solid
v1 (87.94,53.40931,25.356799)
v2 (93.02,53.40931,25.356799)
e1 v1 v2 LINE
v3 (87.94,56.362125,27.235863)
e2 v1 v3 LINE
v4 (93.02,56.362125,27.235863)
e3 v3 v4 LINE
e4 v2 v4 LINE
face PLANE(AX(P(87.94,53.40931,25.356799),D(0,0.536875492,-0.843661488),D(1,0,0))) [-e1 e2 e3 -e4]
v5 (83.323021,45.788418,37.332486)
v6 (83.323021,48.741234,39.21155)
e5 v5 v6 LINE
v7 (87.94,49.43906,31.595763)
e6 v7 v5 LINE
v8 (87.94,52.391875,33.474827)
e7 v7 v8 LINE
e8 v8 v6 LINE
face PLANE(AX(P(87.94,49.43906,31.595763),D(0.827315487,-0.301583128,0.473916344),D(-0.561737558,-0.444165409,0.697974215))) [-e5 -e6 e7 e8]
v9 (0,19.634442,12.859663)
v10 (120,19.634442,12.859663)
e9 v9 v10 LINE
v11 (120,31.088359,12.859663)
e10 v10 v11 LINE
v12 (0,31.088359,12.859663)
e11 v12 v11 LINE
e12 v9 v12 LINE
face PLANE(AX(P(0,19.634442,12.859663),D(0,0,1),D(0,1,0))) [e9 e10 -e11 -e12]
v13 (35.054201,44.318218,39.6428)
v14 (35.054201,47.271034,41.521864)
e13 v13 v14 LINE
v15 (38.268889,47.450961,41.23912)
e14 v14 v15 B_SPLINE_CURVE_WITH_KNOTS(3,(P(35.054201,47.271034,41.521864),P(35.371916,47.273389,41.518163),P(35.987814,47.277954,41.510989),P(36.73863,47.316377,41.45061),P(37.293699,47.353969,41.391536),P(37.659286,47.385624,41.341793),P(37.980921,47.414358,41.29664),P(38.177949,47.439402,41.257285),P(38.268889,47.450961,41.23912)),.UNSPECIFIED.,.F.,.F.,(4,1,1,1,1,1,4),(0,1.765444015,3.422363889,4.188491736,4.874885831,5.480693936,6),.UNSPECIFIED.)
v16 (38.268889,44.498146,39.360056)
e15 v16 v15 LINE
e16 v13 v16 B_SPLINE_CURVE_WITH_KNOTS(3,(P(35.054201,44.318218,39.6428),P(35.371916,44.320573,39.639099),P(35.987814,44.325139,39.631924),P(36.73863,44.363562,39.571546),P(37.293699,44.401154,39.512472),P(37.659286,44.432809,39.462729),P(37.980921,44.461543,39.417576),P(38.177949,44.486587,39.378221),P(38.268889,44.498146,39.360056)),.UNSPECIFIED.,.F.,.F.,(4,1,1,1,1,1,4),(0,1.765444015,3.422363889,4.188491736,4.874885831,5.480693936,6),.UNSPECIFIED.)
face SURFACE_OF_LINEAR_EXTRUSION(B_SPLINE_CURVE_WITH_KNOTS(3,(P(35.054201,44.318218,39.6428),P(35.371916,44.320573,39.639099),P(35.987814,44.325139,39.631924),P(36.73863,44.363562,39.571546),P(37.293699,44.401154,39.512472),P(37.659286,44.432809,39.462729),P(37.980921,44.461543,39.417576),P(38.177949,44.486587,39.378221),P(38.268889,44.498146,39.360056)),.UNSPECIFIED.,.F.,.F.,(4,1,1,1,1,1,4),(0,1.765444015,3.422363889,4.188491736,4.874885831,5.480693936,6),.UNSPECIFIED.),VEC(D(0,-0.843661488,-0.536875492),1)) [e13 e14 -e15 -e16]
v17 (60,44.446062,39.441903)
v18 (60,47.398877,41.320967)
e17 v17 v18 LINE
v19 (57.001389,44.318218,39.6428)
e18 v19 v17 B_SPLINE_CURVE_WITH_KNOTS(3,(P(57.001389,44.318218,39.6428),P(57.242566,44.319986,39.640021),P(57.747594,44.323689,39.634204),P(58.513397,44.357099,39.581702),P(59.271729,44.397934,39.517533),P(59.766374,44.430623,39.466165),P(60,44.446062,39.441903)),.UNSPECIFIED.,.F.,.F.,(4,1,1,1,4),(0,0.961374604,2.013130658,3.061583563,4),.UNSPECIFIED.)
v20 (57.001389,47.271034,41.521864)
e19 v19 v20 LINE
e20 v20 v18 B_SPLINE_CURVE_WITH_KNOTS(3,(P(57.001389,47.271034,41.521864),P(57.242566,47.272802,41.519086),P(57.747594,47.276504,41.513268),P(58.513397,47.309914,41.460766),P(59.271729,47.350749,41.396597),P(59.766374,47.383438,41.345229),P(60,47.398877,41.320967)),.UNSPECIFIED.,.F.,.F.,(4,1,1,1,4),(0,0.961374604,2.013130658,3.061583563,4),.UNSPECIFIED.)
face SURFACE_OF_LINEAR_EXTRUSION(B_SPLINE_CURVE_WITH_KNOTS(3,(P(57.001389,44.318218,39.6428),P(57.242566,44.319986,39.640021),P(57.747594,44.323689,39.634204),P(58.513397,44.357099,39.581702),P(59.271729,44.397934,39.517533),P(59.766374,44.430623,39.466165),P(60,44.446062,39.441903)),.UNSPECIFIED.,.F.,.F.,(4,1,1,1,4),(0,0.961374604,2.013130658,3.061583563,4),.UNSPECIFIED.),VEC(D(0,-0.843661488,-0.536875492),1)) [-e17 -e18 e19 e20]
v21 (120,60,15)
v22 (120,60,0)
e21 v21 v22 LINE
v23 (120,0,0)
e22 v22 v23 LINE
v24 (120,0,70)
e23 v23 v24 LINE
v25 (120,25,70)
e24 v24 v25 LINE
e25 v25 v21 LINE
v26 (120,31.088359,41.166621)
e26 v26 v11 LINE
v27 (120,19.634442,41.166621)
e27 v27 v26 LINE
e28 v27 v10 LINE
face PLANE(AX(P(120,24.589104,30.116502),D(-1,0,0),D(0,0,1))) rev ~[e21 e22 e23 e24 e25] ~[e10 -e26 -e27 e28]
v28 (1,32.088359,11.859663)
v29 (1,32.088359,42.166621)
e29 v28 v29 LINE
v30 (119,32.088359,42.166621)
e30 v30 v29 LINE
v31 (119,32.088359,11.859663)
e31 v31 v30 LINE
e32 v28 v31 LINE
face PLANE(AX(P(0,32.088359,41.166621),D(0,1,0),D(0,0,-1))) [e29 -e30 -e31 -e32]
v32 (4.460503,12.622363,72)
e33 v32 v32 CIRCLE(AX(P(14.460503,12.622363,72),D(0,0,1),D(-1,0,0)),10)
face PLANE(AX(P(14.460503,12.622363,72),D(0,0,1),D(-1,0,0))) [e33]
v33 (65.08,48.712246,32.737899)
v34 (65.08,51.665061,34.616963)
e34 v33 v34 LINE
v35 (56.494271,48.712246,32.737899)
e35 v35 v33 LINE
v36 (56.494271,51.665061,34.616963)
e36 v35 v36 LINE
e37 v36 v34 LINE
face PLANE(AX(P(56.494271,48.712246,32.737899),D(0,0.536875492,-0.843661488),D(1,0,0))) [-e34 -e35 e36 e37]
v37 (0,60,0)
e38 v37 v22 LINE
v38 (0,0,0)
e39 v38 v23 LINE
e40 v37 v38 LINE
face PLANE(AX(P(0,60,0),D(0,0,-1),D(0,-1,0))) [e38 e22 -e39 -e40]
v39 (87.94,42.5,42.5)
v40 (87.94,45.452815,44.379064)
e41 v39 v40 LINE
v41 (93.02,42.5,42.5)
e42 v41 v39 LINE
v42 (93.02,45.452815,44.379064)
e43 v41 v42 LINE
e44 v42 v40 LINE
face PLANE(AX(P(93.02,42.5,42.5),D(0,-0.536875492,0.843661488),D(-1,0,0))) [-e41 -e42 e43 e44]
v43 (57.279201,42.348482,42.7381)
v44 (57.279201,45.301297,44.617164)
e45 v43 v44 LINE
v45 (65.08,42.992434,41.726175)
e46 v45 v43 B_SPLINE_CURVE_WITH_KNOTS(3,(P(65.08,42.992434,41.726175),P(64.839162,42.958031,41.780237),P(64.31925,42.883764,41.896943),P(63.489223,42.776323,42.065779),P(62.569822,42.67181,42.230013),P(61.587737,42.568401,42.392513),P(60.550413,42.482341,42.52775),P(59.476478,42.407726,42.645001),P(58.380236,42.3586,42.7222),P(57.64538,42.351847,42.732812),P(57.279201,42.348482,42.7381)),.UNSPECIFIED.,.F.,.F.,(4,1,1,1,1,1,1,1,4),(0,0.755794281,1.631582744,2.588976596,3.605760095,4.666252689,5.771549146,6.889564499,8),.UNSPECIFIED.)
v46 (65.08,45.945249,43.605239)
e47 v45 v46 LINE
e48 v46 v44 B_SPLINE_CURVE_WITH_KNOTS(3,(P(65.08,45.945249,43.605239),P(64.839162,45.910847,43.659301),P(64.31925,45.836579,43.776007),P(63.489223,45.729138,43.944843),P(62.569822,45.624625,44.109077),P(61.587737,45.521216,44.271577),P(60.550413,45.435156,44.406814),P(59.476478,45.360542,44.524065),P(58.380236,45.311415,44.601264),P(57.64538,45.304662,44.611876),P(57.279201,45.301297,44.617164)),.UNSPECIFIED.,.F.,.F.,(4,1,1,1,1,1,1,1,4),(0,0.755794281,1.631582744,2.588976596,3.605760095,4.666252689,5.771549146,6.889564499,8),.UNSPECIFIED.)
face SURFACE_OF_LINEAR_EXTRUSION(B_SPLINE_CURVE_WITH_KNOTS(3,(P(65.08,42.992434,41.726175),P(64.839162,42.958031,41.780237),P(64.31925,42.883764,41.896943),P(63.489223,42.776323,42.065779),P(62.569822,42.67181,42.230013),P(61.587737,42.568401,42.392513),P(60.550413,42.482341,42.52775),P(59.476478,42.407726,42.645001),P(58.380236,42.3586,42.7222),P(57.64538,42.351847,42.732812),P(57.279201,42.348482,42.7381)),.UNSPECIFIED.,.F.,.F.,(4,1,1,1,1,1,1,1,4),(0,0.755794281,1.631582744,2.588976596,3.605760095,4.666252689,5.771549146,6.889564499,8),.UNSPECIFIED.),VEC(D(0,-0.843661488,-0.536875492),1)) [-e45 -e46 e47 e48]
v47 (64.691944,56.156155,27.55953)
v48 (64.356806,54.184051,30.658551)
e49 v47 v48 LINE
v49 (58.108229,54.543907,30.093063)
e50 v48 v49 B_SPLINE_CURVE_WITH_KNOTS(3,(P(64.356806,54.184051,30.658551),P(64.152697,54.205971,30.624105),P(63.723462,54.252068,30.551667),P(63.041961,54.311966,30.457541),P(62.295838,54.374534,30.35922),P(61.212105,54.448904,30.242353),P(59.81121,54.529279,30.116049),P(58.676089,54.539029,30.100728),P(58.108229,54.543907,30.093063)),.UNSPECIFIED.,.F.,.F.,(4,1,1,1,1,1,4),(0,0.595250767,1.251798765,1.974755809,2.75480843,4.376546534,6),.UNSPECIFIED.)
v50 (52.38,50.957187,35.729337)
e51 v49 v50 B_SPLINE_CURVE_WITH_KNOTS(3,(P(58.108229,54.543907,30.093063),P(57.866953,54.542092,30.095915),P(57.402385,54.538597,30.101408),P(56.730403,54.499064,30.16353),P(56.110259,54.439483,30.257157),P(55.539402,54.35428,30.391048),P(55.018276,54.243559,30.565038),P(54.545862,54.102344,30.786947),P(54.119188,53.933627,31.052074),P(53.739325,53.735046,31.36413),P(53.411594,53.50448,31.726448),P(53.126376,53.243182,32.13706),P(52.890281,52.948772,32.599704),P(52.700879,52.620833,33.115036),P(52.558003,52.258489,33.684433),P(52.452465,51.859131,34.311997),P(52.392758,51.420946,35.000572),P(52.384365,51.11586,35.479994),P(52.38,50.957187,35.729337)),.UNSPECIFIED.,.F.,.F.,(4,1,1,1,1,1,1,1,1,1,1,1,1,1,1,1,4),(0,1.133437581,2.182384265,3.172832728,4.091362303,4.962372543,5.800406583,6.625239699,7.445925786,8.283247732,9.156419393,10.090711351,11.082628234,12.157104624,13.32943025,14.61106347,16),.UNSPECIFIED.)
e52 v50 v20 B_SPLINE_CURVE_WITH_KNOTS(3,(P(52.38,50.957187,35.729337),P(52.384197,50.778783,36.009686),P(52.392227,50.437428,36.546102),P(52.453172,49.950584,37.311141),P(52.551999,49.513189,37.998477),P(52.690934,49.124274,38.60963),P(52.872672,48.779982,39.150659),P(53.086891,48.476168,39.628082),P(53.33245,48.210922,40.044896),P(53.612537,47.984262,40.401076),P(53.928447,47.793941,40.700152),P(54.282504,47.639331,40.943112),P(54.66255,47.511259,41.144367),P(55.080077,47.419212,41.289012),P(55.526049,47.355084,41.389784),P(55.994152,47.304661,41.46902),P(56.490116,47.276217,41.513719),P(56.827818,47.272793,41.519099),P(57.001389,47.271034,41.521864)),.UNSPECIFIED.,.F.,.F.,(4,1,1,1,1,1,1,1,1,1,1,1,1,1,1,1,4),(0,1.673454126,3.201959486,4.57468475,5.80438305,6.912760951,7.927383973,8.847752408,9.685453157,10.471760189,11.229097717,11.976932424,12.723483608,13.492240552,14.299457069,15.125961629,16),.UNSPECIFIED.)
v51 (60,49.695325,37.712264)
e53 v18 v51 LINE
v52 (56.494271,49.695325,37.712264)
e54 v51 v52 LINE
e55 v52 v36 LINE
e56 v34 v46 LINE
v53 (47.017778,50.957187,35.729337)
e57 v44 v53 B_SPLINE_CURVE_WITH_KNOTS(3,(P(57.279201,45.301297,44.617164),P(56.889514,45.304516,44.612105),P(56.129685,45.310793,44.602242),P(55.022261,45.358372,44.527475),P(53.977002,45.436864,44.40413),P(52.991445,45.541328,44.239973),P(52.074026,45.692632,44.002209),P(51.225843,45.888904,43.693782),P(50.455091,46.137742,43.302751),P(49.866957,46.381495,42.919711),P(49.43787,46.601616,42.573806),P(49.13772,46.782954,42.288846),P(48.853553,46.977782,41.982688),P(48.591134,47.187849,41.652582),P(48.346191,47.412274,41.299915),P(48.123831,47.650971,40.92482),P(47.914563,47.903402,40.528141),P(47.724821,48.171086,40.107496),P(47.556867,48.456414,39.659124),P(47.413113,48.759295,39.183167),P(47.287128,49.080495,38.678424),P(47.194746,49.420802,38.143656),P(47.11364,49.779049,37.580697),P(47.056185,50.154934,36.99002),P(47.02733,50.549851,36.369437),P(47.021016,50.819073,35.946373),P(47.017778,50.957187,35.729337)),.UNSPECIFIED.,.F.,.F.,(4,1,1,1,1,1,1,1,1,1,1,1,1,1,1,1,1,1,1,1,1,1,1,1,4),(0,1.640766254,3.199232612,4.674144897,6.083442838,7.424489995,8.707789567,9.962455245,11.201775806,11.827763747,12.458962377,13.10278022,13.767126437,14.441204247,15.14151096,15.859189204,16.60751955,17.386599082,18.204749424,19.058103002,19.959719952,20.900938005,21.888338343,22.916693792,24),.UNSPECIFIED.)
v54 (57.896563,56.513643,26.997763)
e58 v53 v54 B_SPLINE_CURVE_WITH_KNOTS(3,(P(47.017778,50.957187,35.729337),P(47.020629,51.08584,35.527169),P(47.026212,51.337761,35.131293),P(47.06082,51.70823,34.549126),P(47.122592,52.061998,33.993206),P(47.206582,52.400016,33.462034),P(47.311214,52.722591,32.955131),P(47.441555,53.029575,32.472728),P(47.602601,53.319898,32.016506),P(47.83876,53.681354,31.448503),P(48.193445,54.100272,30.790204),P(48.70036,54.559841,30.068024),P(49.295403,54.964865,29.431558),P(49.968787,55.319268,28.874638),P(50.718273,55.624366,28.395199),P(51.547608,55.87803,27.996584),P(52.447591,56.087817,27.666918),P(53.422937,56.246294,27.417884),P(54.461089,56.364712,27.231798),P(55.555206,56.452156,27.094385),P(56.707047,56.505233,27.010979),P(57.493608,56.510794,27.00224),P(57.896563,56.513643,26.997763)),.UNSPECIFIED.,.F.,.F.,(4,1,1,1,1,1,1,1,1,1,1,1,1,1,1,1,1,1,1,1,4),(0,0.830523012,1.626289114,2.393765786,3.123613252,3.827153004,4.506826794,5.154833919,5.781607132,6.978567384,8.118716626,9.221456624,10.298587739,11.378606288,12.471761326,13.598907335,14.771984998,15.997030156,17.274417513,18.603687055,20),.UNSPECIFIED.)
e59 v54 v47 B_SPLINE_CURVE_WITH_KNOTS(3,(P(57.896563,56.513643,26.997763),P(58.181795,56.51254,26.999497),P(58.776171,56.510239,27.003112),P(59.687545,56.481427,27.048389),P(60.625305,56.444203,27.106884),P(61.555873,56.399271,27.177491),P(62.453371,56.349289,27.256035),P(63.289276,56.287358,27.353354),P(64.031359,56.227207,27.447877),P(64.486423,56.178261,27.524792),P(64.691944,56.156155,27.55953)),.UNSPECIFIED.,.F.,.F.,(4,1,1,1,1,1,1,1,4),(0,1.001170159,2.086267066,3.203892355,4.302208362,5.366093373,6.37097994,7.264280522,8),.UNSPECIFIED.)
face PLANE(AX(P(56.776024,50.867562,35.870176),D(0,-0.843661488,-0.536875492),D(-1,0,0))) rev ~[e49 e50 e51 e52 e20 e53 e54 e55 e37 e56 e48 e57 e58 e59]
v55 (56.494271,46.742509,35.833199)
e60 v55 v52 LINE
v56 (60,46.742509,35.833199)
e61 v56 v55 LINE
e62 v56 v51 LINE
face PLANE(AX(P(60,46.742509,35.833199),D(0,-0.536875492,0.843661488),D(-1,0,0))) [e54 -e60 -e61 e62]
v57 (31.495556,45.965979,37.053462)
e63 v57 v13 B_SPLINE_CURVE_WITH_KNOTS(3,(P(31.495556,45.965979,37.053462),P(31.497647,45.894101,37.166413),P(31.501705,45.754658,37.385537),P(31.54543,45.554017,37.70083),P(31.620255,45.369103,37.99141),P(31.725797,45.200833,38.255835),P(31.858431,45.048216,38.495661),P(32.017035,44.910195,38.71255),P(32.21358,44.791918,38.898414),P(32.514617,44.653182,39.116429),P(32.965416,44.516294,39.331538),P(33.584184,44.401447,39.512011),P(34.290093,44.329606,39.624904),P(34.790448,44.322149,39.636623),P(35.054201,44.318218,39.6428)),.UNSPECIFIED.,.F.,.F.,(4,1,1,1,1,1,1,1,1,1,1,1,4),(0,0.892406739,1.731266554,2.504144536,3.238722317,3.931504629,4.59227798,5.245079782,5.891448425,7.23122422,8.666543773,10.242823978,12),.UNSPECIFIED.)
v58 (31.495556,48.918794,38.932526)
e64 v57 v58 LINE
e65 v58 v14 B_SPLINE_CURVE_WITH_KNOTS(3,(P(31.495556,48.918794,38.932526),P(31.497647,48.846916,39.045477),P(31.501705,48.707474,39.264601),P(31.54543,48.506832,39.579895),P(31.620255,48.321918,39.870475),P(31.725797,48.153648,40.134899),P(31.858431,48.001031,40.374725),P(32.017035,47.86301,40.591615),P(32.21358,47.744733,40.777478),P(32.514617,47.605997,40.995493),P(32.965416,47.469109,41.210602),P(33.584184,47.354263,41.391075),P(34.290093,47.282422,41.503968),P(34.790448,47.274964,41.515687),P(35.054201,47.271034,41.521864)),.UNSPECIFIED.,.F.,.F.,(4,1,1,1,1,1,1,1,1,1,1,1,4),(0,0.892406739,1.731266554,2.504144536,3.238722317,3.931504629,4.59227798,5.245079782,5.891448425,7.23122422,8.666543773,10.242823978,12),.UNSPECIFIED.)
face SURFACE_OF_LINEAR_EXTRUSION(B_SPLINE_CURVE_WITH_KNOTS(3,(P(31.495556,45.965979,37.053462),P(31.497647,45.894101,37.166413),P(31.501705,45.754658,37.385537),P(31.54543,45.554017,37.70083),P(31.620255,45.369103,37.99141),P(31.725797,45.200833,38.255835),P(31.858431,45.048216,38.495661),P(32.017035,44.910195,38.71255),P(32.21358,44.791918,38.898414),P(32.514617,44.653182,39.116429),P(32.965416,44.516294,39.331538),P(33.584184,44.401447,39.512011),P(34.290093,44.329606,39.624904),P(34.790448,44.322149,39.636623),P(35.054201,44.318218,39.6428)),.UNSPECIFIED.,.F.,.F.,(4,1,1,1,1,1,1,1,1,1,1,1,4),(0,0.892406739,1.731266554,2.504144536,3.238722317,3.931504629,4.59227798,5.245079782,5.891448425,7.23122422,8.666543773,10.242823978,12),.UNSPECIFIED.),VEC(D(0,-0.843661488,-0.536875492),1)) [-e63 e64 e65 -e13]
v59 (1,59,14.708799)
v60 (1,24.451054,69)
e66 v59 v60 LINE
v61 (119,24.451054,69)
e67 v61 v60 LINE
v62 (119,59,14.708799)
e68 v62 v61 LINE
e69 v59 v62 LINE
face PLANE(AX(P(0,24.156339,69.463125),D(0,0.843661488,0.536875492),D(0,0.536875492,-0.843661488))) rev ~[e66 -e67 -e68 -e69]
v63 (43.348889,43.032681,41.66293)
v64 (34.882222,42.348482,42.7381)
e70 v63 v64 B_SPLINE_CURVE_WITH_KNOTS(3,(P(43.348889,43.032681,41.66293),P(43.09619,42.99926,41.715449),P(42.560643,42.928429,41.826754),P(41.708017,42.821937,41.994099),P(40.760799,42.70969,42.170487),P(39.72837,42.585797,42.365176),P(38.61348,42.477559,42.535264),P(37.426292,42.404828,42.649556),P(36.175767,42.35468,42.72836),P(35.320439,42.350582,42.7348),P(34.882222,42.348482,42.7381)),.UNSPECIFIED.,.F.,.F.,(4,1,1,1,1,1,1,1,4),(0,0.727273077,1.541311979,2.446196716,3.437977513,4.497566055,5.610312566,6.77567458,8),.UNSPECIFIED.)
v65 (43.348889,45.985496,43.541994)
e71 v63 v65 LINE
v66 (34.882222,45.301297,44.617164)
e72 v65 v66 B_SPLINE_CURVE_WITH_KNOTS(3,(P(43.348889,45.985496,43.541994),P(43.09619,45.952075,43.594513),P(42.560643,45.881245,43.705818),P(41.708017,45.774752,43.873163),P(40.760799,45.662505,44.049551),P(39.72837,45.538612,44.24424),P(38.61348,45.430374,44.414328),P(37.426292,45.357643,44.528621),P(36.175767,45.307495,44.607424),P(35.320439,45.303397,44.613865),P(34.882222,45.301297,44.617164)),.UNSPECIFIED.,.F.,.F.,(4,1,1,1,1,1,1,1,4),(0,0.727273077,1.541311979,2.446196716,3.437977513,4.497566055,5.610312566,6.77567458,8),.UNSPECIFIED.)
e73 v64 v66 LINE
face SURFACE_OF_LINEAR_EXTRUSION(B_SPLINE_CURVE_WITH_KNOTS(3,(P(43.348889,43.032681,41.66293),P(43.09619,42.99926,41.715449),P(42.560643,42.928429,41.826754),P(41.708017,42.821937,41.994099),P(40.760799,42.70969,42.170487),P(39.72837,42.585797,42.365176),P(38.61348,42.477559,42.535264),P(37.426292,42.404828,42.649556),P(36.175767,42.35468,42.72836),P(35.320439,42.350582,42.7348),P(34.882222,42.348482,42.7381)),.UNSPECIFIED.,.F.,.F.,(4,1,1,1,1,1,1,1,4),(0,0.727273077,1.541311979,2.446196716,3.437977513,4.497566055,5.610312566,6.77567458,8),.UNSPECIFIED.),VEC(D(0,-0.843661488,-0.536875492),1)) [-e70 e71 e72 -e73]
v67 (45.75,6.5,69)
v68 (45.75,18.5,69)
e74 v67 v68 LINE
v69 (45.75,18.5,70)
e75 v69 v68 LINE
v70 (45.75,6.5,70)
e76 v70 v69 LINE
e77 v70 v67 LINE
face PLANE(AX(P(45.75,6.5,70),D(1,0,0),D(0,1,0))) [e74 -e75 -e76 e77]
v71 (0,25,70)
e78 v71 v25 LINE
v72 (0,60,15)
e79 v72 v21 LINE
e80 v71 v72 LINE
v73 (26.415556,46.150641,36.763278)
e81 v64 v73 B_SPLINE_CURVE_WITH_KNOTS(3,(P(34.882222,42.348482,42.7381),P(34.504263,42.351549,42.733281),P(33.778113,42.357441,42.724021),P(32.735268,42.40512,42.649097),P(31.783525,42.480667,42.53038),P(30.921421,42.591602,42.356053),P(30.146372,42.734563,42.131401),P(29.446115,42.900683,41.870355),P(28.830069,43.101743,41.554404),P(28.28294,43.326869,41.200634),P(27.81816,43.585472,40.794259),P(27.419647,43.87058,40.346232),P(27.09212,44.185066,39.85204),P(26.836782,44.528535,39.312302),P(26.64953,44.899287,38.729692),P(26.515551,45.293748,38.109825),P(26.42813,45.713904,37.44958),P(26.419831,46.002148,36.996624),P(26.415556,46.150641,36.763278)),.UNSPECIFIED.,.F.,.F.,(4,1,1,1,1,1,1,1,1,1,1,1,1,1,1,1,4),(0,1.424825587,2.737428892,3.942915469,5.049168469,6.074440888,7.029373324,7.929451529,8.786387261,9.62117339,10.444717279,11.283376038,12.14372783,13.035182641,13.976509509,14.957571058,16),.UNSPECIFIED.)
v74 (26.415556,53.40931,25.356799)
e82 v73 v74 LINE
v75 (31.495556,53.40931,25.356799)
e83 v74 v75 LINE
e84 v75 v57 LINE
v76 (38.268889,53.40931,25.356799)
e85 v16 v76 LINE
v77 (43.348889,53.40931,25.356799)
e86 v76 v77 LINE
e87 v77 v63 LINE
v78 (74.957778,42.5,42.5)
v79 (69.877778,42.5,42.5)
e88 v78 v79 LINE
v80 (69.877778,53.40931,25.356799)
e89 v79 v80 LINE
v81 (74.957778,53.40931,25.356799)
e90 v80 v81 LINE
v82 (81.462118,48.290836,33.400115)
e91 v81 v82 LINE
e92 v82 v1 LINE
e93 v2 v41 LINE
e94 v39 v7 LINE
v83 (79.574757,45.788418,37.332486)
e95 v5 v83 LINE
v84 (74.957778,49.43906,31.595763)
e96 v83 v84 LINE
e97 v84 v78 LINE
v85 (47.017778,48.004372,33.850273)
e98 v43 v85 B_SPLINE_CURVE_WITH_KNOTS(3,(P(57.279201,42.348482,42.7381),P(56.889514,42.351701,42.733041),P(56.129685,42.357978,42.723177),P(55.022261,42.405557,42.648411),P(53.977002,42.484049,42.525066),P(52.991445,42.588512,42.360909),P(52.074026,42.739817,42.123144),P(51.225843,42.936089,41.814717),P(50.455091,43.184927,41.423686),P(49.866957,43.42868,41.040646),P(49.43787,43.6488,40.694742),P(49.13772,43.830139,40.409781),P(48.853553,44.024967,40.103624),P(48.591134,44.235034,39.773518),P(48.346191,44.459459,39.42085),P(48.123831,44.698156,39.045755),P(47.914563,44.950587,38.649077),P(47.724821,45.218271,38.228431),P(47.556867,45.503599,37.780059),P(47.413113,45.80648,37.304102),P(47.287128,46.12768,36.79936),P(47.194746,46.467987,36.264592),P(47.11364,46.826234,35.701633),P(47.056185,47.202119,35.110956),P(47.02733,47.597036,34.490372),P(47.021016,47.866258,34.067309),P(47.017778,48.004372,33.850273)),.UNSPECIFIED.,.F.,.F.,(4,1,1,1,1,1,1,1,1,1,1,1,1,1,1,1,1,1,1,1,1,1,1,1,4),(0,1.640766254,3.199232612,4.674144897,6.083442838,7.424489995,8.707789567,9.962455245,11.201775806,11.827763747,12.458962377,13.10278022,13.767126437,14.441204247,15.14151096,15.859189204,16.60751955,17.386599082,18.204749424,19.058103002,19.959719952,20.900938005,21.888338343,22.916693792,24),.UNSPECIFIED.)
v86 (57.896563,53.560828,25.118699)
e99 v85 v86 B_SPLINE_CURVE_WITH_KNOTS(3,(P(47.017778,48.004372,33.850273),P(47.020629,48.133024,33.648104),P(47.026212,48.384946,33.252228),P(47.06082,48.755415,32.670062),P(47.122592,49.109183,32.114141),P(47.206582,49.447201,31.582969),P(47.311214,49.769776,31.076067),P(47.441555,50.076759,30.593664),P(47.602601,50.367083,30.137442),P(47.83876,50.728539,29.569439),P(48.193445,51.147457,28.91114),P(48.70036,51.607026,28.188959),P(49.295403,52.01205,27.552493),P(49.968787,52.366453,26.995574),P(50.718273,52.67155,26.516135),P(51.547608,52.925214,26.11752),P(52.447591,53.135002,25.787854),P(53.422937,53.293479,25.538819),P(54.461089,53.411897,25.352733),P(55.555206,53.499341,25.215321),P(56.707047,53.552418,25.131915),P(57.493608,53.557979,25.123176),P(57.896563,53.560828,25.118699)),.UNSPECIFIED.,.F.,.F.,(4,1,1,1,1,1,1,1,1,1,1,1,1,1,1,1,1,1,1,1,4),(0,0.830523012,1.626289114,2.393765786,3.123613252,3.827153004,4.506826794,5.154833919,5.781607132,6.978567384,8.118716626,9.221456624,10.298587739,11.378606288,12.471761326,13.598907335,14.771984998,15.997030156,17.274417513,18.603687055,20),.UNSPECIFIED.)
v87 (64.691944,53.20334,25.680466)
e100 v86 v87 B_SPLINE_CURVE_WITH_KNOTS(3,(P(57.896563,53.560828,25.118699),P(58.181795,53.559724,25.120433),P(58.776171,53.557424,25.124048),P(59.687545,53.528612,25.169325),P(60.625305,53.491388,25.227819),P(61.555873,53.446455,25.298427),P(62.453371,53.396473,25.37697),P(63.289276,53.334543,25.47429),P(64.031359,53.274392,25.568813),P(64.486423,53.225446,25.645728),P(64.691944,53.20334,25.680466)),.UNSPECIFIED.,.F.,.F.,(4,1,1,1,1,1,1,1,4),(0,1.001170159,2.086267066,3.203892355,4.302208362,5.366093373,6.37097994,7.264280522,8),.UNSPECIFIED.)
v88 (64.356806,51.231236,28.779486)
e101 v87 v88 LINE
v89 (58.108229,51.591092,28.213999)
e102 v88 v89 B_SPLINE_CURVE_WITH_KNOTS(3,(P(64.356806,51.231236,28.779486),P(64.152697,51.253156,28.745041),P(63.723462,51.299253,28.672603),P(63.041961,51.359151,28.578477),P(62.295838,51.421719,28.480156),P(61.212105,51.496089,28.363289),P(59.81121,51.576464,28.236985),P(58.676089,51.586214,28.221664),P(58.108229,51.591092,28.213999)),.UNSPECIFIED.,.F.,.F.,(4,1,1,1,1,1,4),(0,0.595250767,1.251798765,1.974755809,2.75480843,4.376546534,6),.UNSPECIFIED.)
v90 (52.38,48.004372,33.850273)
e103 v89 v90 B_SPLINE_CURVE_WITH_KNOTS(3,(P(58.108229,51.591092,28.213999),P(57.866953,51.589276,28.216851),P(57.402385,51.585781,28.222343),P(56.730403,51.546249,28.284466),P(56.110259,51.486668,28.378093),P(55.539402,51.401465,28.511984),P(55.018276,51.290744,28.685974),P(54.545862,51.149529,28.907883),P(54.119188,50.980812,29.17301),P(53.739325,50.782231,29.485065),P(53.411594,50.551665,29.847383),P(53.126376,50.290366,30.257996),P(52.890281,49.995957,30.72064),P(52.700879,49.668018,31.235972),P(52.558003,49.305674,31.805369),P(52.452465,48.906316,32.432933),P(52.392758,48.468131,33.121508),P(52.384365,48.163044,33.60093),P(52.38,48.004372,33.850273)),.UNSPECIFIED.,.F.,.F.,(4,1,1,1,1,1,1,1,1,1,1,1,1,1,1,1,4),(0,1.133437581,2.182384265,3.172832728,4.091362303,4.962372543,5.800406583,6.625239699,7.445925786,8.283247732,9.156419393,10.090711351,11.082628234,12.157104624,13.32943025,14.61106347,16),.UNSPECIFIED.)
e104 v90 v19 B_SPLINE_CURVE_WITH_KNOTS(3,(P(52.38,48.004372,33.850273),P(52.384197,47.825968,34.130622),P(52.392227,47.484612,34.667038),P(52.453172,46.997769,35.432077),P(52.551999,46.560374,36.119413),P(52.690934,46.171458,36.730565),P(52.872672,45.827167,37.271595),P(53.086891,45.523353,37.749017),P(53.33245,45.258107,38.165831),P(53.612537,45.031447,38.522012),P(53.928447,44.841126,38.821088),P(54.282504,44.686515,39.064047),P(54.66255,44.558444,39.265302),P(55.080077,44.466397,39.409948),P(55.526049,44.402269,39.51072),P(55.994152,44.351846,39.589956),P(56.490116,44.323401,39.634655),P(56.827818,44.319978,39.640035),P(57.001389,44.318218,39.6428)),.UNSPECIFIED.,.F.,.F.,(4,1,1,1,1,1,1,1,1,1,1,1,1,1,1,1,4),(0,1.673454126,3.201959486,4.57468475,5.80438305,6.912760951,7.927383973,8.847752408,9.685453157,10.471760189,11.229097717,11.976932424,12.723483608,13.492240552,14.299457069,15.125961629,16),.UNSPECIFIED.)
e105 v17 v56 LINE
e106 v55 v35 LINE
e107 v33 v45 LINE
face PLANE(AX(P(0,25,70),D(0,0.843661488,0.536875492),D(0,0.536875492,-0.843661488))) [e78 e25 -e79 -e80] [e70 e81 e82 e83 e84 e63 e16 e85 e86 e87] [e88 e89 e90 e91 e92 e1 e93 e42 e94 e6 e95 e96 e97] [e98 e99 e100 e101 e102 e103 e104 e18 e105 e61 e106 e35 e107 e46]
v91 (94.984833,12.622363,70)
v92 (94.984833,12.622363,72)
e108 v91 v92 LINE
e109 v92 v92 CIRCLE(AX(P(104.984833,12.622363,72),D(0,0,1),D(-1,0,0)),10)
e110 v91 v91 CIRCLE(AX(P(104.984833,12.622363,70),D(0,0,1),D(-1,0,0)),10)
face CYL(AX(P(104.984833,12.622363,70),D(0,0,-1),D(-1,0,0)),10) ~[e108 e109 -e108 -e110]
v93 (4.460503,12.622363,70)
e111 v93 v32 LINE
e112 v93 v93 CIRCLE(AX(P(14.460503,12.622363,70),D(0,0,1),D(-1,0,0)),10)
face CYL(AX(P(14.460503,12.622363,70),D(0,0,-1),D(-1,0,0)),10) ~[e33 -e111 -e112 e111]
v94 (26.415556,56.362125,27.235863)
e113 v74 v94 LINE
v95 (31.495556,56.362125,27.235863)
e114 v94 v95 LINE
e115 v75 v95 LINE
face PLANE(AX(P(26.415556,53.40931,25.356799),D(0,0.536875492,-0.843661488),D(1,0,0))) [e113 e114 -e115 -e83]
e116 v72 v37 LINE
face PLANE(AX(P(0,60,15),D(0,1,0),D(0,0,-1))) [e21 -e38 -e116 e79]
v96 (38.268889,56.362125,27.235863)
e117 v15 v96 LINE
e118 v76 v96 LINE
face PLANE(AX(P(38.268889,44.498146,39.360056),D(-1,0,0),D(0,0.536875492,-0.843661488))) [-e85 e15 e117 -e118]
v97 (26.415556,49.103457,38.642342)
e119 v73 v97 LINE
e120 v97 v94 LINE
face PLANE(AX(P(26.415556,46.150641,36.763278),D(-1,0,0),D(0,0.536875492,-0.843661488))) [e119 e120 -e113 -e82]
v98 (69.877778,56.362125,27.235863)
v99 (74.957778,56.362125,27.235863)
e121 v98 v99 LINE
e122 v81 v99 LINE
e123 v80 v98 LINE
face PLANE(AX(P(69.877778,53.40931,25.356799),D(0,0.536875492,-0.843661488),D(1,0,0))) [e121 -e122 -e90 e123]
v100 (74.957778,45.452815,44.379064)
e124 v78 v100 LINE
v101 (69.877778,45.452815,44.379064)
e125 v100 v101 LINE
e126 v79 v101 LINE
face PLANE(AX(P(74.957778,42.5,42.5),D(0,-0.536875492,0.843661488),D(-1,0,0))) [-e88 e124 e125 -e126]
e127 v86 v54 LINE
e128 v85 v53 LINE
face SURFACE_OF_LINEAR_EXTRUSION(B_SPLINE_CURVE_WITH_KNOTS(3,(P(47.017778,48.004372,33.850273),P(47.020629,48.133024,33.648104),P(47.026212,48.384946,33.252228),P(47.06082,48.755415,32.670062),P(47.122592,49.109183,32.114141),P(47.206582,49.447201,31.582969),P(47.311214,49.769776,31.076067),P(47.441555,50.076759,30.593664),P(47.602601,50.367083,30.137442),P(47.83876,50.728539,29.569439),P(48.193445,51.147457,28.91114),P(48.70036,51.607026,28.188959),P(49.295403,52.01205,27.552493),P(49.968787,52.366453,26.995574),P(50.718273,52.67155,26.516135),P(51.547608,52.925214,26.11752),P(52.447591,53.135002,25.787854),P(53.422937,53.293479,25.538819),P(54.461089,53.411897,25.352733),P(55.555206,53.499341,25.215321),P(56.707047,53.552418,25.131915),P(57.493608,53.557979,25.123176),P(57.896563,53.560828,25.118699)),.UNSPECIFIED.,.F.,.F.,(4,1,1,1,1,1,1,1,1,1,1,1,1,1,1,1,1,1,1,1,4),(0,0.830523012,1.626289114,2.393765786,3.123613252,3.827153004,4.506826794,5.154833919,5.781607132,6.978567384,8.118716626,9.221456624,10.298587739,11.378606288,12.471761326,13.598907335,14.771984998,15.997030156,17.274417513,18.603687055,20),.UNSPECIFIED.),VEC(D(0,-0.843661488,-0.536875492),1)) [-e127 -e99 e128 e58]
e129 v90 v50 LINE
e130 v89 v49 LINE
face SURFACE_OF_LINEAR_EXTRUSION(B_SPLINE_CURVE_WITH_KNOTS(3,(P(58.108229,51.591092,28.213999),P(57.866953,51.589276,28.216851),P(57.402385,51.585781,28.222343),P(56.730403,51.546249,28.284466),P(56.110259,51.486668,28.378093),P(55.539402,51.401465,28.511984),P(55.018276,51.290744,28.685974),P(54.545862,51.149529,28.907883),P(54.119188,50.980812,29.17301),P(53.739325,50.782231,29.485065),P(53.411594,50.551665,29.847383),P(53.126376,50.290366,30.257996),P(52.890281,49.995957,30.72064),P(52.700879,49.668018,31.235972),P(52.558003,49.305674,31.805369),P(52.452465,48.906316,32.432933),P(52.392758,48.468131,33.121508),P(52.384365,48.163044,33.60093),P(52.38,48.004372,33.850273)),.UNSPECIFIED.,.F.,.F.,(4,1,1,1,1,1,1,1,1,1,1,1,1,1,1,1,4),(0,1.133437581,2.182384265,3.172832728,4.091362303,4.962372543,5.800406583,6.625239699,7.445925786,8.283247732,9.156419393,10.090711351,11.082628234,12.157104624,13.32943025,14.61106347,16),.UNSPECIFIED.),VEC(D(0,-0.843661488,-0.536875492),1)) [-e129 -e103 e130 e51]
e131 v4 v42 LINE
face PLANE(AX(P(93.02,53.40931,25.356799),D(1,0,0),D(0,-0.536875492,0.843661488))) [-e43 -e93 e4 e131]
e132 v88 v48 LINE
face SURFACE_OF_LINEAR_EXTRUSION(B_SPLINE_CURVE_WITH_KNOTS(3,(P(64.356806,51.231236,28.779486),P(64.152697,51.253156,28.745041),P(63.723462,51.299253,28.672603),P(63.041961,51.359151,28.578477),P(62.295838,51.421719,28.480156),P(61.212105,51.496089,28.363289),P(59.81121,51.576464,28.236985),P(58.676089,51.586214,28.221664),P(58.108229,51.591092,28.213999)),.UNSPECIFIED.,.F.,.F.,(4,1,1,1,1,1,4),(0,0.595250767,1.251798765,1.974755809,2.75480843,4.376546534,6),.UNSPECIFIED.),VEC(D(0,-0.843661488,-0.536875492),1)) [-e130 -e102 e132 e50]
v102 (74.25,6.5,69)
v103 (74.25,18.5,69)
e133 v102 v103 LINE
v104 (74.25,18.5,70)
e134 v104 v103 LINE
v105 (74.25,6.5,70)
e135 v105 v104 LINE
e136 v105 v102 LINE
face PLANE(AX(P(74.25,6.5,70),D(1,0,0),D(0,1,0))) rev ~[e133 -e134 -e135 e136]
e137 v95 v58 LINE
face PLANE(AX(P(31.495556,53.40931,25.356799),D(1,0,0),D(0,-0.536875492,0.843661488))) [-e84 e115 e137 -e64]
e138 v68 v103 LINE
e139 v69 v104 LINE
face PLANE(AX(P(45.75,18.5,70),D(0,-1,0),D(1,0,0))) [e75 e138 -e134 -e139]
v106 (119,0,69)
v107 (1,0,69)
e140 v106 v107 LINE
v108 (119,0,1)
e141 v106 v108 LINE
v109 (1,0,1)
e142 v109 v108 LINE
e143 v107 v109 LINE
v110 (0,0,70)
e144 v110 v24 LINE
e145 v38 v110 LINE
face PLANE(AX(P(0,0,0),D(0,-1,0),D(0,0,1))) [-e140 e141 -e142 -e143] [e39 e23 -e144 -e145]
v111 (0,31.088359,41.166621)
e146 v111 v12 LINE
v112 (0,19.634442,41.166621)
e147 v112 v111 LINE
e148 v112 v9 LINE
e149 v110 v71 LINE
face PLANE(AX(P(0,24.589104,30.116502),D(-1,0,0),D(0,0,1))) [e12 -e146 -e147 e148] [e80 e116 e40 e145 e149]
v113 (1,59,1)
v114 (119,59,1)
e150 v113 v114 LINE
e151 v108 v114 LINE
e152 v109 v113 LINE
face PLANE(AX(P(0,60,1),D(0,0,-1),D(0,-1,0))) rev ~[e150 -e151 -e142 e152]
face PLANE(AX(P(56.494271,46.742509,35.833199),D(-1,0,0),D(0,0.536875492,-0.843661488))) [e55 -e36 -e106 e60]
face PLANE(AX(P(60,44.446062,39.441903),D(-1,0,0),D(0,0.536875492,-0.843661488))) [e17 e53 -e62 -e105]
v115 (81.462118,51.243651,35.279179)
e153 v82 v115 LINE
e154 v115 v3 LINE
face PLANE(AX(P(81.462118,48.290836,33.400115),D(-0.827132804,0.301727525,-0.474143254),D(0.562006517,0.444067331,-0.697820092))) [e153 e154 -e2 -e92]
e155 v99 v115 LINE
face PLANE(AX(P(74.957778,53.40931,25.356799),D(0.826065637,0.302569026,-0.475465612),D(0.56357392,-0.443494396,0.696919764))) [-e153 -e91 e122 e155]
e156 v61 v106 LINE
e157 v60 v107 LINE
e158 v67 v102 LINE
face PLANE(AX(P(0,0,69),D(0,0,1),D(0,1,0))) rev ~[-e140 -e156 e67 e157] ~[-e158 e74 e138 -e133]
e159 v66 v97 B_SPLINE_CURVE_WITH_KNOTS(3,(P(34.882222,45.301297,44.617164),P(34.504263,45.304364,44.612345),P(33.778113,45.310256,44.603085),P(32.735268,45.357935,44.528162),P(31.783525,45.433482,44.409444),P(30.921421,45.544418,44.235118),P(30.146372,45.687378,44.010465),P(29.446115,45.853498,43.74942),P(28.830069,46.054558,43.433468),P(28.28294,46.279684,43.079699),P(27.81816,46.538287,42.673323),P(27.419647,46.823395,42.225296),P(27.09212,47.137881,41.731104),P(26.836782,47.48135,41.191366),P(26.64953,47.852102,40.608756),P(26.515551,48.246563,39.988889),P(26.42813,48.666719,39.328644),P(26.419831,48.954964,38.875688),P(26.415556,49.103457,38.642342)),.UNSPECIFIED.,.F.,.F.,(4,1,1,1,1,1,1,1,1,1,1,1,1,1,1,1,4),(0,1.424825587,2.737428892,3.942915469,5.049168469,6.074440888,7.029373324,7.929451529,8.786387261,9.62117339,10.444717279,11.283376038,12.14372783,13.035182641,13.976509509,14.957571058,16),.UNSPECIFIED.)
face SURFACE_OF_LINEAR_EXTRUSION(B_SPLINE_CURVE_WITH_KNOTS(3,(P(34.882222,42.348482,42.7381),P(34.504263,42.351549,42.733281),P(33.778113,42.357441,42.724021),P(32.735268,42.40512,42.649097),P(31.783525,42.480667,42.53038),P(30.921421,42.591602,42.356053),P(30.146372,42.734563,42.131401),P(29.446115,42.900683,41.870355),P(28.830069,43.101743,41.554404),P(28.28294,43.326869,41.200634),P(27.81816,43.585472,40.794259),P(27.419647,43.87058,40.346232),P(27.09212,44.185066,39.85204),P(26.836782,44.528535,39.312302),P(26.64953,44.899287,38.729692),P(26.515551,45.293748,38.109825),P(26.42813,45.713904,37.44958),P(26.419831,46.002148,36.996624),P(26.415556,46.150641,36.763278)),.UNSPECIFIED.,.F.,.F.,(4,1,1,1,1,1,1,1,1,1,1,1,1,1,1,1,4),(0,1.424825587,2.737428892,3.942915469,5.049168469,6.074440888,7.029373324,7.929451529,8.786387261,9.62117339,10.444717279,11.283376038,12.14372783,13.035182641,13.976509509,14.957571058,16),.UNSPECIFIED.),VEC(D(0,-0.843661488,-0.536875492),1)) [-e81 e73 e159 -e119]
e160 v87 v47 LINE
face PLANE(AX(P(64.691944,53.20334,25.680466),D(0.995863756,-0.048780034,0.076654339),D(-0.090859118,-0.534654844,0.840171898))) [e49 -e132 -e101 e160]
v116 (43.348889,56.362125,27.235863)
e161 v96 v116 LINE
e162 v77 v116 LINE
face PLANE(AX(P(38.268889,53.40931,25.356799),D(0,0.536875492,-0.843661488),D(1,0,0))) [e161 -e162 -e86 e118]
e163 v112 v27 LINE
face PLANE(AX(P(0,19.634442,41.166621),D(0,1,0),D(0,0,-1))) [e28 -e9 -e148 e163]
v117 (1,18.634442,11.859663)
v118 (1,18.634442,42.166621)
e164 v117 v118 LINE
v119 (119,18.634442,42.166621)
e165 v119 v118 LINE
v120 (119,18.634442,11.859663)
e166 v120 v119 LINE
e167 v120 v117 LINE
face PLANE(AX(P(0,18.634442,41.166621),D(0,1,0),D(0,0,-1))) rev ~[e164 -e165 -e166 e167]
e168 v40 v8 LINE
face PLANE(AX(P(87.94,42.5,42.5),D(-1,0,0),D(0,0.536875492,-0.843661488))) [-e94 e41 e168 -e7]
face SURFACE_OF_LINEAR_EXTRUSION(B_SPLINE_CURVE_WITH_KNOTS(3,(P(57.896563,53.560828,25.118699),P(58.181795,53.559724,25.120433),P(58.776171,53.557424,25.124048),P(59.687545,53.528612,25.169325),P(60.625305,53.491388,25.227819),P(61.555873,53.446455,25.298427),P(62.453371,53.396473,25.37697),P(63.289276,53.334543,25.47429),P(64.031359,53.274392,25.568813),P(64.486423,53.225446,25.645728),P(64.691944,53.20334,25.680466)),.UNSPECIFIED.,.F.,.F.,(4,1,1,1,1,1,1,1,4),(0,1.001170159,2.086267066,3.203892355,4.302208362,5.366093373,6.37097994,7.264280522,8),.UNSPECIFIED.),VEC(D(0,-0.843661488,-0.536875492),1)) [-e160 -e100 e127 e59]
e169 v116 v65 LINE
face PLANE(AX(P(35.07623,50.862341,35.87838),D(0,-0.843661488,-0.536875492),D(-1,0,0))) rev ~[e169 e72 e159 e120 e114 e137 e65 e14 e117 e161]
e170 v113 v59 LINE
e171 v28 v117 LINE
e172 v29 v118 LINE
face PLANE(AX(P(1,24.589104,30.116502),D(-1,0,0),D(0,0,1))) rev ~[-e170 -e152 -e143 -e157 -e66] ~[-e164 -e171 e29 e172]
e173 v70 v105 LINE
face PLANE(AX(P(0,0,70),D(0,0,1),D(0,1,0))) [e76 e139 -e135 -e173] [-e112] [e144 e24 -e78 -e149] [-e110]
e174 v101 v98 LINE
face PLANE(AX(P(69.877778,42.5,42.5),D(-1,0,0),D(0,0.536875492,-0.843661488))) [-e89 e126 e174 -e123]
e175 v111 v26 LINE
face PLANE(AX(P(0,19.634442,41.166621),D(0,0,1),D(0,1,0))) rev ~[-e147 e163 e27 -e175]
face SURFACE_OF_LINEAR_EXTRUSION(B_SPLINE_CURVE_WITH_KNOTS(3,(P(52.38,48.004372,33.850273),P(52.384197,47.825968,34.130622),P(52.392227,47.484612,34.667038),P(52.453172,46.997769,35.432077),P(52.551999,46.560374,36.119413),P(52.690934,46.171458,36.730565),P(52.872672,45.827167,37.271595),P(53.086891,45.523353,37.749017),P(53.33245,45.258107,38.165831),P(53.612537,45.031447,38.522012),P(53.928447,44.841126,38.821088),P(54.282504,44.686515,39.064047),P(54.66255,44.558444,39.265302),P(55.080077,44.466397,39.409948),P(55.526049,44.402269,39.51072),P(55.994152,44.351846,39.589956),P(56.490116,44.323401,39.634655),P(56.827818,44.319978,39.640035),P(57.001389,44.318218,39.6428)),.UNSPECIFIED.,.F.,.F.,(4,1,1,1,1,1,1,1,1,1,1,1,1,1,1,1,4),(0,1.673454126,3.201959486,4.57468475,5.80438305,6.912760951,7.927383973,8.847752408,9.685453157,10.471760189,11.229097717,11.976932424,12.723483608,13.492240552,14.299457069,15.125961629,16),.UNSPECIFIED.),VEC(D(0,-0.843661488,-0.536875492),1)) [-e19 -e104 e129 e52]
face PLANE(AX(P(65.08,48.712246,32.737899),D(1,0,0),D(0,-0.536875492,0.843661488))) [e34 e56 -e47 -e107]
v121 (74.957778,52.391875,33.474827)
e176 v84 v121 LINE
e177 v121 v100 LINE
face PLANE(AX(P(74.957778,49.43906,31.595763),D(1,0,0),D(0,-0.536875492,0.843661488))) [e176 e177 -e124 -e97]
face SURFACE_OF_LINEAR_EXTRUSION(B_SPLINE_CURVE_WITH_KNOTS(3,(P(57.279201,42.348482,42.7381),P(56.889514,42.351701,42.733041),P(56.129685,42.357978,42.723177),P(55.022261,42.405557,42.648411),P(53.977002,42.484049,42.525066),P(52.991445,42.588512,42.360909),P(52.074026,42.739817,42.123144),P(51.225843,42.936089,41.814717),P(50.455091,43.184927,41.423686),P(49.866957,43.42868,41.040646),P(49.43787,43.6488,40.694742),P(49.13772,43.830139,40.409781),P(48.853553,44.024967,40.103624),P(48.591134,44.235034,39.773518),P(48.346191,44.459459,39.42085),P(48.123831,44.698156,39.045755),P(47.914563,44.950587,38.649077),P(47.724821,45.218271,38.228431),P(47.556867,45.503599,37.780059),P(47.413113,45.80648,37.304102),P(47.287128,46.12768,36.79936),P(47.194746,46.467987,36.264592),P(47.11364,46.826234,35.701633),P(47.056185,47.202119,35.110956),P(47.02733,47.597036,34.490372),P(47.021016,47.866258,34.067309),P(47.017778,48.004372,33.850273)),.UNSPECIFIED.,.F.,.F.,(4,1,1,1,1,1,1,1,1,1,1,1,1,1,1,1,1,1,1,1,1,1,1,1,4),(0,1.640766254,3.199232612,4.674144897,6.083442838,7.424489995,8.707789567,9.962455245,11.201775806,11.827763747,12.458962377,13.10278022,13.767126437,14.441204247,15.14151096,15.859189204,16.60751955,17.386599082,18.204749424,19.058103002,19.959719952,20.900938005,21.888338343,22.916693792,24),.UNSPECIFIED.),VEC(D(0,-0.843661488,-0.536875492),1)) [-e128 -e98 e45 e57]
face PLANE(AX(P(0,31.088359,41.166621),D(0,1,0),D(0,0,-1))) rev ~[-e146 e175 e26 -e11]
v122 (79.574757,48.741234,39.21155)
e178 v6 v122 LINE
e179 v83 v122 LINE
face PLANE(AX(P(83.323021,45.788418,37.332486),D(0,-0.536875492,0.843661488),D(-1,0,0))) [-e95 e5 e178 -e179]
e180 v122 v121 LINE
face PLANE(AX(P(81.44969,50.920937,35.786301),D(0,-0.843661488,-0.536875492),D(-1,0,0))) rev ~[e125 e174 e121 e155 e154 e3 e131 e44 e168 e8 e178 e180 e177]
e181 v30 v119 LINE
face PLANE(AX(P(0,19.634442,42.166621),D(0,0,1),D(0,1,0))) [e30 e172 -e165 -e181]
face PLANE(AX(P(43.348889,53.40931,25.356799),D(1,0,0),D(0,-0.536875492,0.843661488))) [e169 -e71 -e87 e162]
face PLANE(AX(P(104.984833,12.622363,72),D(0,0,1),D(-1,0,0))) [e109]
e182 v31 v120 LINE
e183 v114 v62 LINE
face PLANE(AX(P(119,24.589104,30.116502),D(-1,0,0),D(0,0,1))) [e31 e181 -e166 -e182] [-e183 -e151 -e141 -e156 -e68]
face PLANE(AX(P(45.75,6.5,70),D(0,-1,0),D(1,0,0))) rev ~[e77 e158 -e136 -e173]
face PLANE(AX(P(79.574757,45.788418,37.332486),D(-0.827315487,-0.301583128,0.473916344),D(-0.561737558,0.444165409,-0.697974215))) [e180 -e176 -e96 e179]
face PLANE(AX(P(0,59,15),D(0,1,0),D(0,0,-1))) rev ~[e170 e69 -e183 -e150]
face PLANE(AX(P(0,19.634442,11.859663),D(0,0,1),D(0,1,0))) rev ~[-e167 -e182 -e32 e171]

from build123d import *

# Parameters (mm, degrees)
SKETCH2_W           = 28.306958552
SKETCH2_H           = 11.453917389
BOSS_EXTRUDE1_DEPTH = 120
SHELL1_T            = -1
SKETCH3_R           = 10
BOSS_EXTRUDE3_DEPTH = 2
BOSS_EXTRUDE4_DEPTH = 3.5
SKETCH5_W           = 28.5
SKETCH5_H           = 12
CUT_EXTRUDE1_DEPTH  = 3.5


with BuildPart() as part:
    # Sketch2 → Boss-Extrude1 (new body)
    with BuildSketch(Plane(origin=(0, 0, 0), x_dir=(0, 0, -1), z_dir=(1, 0, 0))):
        Polygon((0, 0), (-70, 0), (-70, 25), (-15, 60), (0, 60), align=None)
        with Locations((-27.013142097, 25.361400481)):
            Rectangle(SKETCH2_W, SKETCH2_H, mode=Mode.SUBTRACT)
    extrude(amount=BOSS_EXTRUDE1_DEPTH)

    # Shell1
    shell1_openings = [part.faces().sort_by_distance(p)[0] for p in [
        (60, 0, 35),
    ]]
    offset(amount=SHELL1_T, openings=shell1_openings, kind=Kind.INTERSECTION)

    # Sketch3 → Boss-Extrude3 (add)
    with BuildSketch(Plane.XY.offset(70)):
        with Locations(Location((14.460503184, 12.622362689, 0), (0, 0, 180))):
            Circle(SKETCH3_R)
        with Locations(Location((104.984833399, 12.622362689, 0), (0, 0, 180))):
            Circle(SKETCH3_R)
    extrude(amount=BOSS_EXTRUDE3_DEPTH)

    # Sketch4 → Boss-Extrude4 (add)
    with BuildSketch(Plane(origin=(0, 49.5, 31.5), x_dir=(1, 0, 0), z_dir=(0, 0.8436614877321076, 0.5368754921931594))):
        with BuildLine():
            Line((31.495555556, 7.28159519), (31.495555556, -6.582571477))
            add(Edge.make_bspline(
                [(31.495555556, -6.582571477), (31.497647327, -6.716452984), (31.501705357, -6.976182729), (31.545429981, -7.349903275), (31.620254564, -7.694330516), (31.725797404, -8.007755097), (31.85843149, -8.292023496), (32.017035255, -8.549104595), (32.213580402, -8.769410834), (32.514616663, -9.027825691), (32.965416445, -9.28279655), (33.584183504, -9.496713073), (34.290093212, -9.63052642), (34.790447792, -9.644416316), (35.054201389, -9.651738144)],
                knots=[0, 0, 0, 0, 0.892406739, 1.731266554, 2.504144536, 3.238722317, 3.931504629, 4.59227798, 5.245079782, 5.891448425, 7.23122422, 8.666543773, 10.242823978, 12, 12, 12, 12], degree=3))
            add(Edge.make_bspline(
                [(35.054201389, -9.651738144), (35.371915661, -9.647351405), (35.987813895, -9.638847586), (36.738630256, -9.567280303), (37.293698587, -9.49725925), (37.65928604, -9.438298039), (37.980921199, -9.384777988), (38.177949016, -9.338130022), (38.268888889, -9.316599255)],
                knots=[0, 0, 0, 0, 1.765444015, 3.422363889, 4.188491736, 4.874885831, 5.480693936, 6, 6, 6, 6], degree=3))
            Line((38.268888889, -9.316599255), (38.268888889, 7.28159519))
            Line((38.268888889, 7.28159519), (43.348888889, 7.28159519))
            Line((43.348888889, 7.28159519), (43.348888889, -12.04621731))
            add(Edge.make_bspline(
                [(43.348888889, -12.04621731), (43.096189549, -12.108469187), (42.560643091, -12.240399773), (41.708016667, -12.438755514), (40.760798722, -12.647829999), (39.72837029, -12.878596561), (38.613480039, -13.080203608), (37.426291642, -13.215675326), (36.175767269, -13.309081819), (35.320438728, -13.316715841), (34.882222222, -13.320627033)],
                knots=[0, 0, 0, 0, 0.727273077, 1.541311979, 2.446196716, 3.437977513, 4.497566055, 5.610312566, 6.77567458, 8, 8, 8, 8], degree=3))
            add(Edge.make_bspline(
                [(34.882222222, -13.320627033), (34.504262876, -13.314914498), (33.778113064, -13.30393936), (32.735267925, -13.21513127), (31.783524991, -13.074414795), (30.921420697, -12.867783559), (30.146372308, -12.601500494), (29.446115226, -12.292080995), (28.830068546, -11.917580353), (28.282939924, -11.498254497), (27.818160366, -11.016573216), (27.419646968, -10.485522985), (27.09211977, -9.899752382), (26.836782361, -9.259995921), (26.649530032, -8.569422805), (26.515550652, -7.834688866), (26.428130138, -7.052093695), (26.41983098, -6.515200865), (26.415555556, -6.238613144)],
                knots=[0, 0, 0, 0, 1.424825587, 2.737428892, 3.942915469, 5.049168469, 6.074440888, 7.029373324, 7.929451529, 8.786387261, 9.62117339, 10.444717279, 11.283376038, 12.14372783, 13.035182641, 13.976509509, 14.957571058, 16, 16, 16, 16], degree=3))
            Line((26.415555556, -6.238613144), (26.415555556, 7.28159519))
            Line((26.415555556, 7.28159519), (31.495555556, 7.28159519))
        make_face()
        with BuildLine():
            add(Edge.make_bspline(
                [(64.356805556, 3.224650745), (64.152697046, 3.265479221), (63.723461512, 3.351340574), (63.041961215, 3.462909191), (62.29583847, 3.579450279), (61.212104745, 3.717973311), (59.811209671, 3.867682682), (58.676089338, 3.885843376), (58.108229167, 3.894928523)],
                knots=[0, 0, 0, 0, 0.595250767, 1.251798765, 1.974755809, 2.75480843, 4.376546534, 6, 6, 6, 6], degree=3))
            add(Edge.make_bspline(
                [(58.108229167, 3.894928523), (57.866952661, 3.891547515), (57.40238535, 3.885037532), (56.73040283, 3.811402786), (56.110259397, 3.700425968), (55.539401639, 3.541723685), (55.018275771, 3.335491675), (54.545861683, 3.07246126), (54.119187516, 2.758203357), (53.73932494, 2.388321122), (53.411594136, 1.958862272), (53.126376495, 1.47215962), (52.890281289, 0.923783122), (52.700878804, 0.312954851), (52.558002514, -0.361956903), (52.452465427, -1.105813902), (52.392758083, -1.921988909), (52.384365104, -2.490252469), (52.38, -2.785800644)],
                knots=[0, 0, 0, 0, 1.133437581, 2.182384265, 3.172832728, 4.091362303, 4.962372543, 5.800406583, 6.625239699, 7.445925786, 8.283247732, 9.156419393, 10.090711351, 11.082628234, 12.157104624, 13.32943025, 14.61106347, 16, 16, 16, 16], degree=3))
            add(Edge.make_bspline(
                [(52.38, -2.785800644), (52.384196723, -3.118101326), (52.392226664, -3.753919963), (52.453172237, -4.660728623), (52.551999251, -5.475433806), (52.690933664, -6.199839009), (52.872671982, -6.841126791), (53.08689051, -7.407019826), (53.332449966, -7.901073543), (53.612537323, -8.323257374), (53.928446967, -8.677755377), (54.282503677, -8.965737434), (54.662550063, -9.204286947), (55.080076889, -9.375736284), (55.526049387, -9.495182682), (55.994151932, -9.589102), (56.490115847, -9.642084068), (56.827818042, -9.648460705), (57.001388889, -9.651738144)],
                knots=[0, 0, 0, 0, 1.673454126, 3.201959486, 4.57468475, 5.80438305, 6.912760951, 7.927383973, 8.847752408, 9.685453157, 10.471760189, 11.229097717, 11.976932424, 12.723483608, 13.492240552, 14.299457069, 15.125961629, 16, 16, 16, 16], degree=3))
            add(Edge.make_bspline(
                [(57.001388889, -9.651738144), (57.242566033, -9.648444955), (57.747594043, -9.641548975), (58.513397038, -9.57931793), (59.271728701, -9.503258107), (59.766374362, -9.442370781), (60, -9.413613144)],
                knots=[0, 0, 0, 0, 0.961374604, 2.013130658, 3.061583563, 4, 4, 4, 4], degree=3))
            Line((60, -9.413613144), (60, -5.136182588))
            Line((60, -5.136182588), (56.494270833, -5.136182588))
            Line((56.494270833, -5.136182588), (56.494270833, -1.467293699))
            Line((56.494270833, -1.467293699), (65.08, -1.467293699))
            Line((65.08, -1.467293699), (65.08, -12.121182588))
            add(Edge.make_bspline(
                [(65.08, -12.121182588), (64.839162189, -12.185262296), (64.319249791, -12.32359537), (63.48922284, -12.523718247), (62.569821699, -12.718386963), (61.587737426, -12.910998872), (60.550412746, -13.071297466), (59.476477777, -13.210276189), (58.380235988, -13.301780667), (57.645379742, -13.314359172), (57.279201389, -13.320627033)],
                knots=[0, 0, 0, 0, 0.755794281, 1.631582744, 2.588976596, 3.605760095, 4.666252689, 5.771549146, 6.889564499, 8, 8, 8, 8], degree=3))
            add(Edge.make_bspline(
                [(57.279201389, -13.320627033), (56.889513874, -13.314630804), (56.129685347, -13.302939114), (55.022260593, -13.214317278), (53.977001934, -13.068115209), (52.991445011, -12.873539155), (52.074025504, -12.591714386), (51.225843147, -12.226132778), (50.455091299, -11.762640122), (49.866957383, -11.308619162), (49.437870421, -10.898615459), (49.137720463, -10.560848798), (48.853553039, -10.197957504), (48.591133595, -9.806679294), (48.346191057, -9.388659543), (48.123831144, -8.944055848), (47.914563451, -8.473869404), (47.724821117, -7.97527371), (47.556866599, -7.443814271), (47.413113475, -6.879657909), (47.287128379, -6.28138145), (47.19474622, -5.647516108), (47.11363965, -4.980235153), (47.05618482, -4.280100825), (47.027329608, -3.5445168), (47.021016482, -3.043055789), (47.017777778, -2.785800644)],
                knots=[0, 0, 0, 0, 1.640766254, 3.199232612, 4.674144897, 6.083442838, 7.424489995, 8.707789567, 9.962455245, 11.201775806, 11.827763747, 12.458962377, 13.10278022, 13.767126437, 14.441204247, 15.14151096, 15.859189204, 16.60751955, 17.386599082, 18.204749424, 19.058103002, 19.959719952, 20.900938005, 21.888338343, 22.916693792, 24, 24, 24, 24], degree=3))
            add(Edge.make_bspline(
                [(47.017777778, -2.785800644), (47.020628796, -2.546168569), (47.026211518, -2.076932884), (47.06082015, -1.386885284), (47.122591725, -0.727947698), (47.206582105, -0.098344535), (47.311213943, 0.502492016), (47.441555443, 1.074288834), (47.602601185, 1.6150534), (47.838760081, 2.288312532), (48.193444972, 3.068600834), (48.700360125, 3.924608099), (49.295402807, 4.679017259), (49.968787038, 5.339138985), (50.718272671, 5.907422518), (51.547607876, 6.379904626), (52.447590869, 6.770661477), (53.42293726, 7.065844151), (54.461089467, 7.286413605), (55.555206299, 7.449289699), (56.707046728, 7.548152282), (57.49360801, 7.55851077), (57.8965625, 7.563817412)],
                knots=[0, 0, 0, 0, 0.830523012, 1.626289114, 2.393765786, 3.123613252, 3.827153004, 4.506826794, 5.154833919, 5.781607132, 6.978567384, 8.118716626, 9.221456624, 10.298587739, 11.378606288, 12.471761326, 13.598907335, 14.771984998, 15.997030156, 17.274417513, 18.603687055, 20, 20, 20, 20], degree=3))
            add(Edge.make_bspline(
                [(57.8965625, 7.563817412), (58.181795123, 7.561761396), (58.776171037, 7.557477012), (59.687545429, 7.503809961), (60.625305238, 7.434475444), (61.555873436, 7.350783248), (62.453370731, 7.257685343), (63.289275957, 7.142331595), (64.031358868, 7.030292802), (64.486422582, 6.939124145), (64.691944444, 6.897949356)],
                knots=[0, 0, 0, 0, 1.001170159, 2.086267066, 3.203892355, 4.302208362, 5.366093373, 6.37097994, 7.264280522, 8, 8, 8, 8], degree=3))
            Line((64.691944444, 6.897949356), (64.356805556, 3.224650745))
        make_face()
        Polygon((79.574756944, -6.913300644), (74.957777778, -0.113508977), (74.957777778, -13.03840481), (69.877777778, -13.03840481), (69.877777778, 7.28159519), (74.957777778, 7.28159519), (81.462118056, -2.252224255), (87.94, 7.28159519), (93.02, 7.28159519), (93.02, -13.03840481), (87.94, -13.03840481), (87.94, -0.113508977), (83.323020833, -6.913300644), align=None)
    extrude(amount=BOSS_EXTRUDE4_DEPTH)

    # Sketch5 → Cut-Extrude1 (cut)
    with BuildSketch(Plane.XY.offset(70)):
        with Locations((60, 12.5)):
            Rectangle(SKETCH5_W, SKETCH5_H)
    extrude(amount=-CUT_EXTRUDE1_DEPTH, mode=Mode.SUBTRACT)


solid = part.part
